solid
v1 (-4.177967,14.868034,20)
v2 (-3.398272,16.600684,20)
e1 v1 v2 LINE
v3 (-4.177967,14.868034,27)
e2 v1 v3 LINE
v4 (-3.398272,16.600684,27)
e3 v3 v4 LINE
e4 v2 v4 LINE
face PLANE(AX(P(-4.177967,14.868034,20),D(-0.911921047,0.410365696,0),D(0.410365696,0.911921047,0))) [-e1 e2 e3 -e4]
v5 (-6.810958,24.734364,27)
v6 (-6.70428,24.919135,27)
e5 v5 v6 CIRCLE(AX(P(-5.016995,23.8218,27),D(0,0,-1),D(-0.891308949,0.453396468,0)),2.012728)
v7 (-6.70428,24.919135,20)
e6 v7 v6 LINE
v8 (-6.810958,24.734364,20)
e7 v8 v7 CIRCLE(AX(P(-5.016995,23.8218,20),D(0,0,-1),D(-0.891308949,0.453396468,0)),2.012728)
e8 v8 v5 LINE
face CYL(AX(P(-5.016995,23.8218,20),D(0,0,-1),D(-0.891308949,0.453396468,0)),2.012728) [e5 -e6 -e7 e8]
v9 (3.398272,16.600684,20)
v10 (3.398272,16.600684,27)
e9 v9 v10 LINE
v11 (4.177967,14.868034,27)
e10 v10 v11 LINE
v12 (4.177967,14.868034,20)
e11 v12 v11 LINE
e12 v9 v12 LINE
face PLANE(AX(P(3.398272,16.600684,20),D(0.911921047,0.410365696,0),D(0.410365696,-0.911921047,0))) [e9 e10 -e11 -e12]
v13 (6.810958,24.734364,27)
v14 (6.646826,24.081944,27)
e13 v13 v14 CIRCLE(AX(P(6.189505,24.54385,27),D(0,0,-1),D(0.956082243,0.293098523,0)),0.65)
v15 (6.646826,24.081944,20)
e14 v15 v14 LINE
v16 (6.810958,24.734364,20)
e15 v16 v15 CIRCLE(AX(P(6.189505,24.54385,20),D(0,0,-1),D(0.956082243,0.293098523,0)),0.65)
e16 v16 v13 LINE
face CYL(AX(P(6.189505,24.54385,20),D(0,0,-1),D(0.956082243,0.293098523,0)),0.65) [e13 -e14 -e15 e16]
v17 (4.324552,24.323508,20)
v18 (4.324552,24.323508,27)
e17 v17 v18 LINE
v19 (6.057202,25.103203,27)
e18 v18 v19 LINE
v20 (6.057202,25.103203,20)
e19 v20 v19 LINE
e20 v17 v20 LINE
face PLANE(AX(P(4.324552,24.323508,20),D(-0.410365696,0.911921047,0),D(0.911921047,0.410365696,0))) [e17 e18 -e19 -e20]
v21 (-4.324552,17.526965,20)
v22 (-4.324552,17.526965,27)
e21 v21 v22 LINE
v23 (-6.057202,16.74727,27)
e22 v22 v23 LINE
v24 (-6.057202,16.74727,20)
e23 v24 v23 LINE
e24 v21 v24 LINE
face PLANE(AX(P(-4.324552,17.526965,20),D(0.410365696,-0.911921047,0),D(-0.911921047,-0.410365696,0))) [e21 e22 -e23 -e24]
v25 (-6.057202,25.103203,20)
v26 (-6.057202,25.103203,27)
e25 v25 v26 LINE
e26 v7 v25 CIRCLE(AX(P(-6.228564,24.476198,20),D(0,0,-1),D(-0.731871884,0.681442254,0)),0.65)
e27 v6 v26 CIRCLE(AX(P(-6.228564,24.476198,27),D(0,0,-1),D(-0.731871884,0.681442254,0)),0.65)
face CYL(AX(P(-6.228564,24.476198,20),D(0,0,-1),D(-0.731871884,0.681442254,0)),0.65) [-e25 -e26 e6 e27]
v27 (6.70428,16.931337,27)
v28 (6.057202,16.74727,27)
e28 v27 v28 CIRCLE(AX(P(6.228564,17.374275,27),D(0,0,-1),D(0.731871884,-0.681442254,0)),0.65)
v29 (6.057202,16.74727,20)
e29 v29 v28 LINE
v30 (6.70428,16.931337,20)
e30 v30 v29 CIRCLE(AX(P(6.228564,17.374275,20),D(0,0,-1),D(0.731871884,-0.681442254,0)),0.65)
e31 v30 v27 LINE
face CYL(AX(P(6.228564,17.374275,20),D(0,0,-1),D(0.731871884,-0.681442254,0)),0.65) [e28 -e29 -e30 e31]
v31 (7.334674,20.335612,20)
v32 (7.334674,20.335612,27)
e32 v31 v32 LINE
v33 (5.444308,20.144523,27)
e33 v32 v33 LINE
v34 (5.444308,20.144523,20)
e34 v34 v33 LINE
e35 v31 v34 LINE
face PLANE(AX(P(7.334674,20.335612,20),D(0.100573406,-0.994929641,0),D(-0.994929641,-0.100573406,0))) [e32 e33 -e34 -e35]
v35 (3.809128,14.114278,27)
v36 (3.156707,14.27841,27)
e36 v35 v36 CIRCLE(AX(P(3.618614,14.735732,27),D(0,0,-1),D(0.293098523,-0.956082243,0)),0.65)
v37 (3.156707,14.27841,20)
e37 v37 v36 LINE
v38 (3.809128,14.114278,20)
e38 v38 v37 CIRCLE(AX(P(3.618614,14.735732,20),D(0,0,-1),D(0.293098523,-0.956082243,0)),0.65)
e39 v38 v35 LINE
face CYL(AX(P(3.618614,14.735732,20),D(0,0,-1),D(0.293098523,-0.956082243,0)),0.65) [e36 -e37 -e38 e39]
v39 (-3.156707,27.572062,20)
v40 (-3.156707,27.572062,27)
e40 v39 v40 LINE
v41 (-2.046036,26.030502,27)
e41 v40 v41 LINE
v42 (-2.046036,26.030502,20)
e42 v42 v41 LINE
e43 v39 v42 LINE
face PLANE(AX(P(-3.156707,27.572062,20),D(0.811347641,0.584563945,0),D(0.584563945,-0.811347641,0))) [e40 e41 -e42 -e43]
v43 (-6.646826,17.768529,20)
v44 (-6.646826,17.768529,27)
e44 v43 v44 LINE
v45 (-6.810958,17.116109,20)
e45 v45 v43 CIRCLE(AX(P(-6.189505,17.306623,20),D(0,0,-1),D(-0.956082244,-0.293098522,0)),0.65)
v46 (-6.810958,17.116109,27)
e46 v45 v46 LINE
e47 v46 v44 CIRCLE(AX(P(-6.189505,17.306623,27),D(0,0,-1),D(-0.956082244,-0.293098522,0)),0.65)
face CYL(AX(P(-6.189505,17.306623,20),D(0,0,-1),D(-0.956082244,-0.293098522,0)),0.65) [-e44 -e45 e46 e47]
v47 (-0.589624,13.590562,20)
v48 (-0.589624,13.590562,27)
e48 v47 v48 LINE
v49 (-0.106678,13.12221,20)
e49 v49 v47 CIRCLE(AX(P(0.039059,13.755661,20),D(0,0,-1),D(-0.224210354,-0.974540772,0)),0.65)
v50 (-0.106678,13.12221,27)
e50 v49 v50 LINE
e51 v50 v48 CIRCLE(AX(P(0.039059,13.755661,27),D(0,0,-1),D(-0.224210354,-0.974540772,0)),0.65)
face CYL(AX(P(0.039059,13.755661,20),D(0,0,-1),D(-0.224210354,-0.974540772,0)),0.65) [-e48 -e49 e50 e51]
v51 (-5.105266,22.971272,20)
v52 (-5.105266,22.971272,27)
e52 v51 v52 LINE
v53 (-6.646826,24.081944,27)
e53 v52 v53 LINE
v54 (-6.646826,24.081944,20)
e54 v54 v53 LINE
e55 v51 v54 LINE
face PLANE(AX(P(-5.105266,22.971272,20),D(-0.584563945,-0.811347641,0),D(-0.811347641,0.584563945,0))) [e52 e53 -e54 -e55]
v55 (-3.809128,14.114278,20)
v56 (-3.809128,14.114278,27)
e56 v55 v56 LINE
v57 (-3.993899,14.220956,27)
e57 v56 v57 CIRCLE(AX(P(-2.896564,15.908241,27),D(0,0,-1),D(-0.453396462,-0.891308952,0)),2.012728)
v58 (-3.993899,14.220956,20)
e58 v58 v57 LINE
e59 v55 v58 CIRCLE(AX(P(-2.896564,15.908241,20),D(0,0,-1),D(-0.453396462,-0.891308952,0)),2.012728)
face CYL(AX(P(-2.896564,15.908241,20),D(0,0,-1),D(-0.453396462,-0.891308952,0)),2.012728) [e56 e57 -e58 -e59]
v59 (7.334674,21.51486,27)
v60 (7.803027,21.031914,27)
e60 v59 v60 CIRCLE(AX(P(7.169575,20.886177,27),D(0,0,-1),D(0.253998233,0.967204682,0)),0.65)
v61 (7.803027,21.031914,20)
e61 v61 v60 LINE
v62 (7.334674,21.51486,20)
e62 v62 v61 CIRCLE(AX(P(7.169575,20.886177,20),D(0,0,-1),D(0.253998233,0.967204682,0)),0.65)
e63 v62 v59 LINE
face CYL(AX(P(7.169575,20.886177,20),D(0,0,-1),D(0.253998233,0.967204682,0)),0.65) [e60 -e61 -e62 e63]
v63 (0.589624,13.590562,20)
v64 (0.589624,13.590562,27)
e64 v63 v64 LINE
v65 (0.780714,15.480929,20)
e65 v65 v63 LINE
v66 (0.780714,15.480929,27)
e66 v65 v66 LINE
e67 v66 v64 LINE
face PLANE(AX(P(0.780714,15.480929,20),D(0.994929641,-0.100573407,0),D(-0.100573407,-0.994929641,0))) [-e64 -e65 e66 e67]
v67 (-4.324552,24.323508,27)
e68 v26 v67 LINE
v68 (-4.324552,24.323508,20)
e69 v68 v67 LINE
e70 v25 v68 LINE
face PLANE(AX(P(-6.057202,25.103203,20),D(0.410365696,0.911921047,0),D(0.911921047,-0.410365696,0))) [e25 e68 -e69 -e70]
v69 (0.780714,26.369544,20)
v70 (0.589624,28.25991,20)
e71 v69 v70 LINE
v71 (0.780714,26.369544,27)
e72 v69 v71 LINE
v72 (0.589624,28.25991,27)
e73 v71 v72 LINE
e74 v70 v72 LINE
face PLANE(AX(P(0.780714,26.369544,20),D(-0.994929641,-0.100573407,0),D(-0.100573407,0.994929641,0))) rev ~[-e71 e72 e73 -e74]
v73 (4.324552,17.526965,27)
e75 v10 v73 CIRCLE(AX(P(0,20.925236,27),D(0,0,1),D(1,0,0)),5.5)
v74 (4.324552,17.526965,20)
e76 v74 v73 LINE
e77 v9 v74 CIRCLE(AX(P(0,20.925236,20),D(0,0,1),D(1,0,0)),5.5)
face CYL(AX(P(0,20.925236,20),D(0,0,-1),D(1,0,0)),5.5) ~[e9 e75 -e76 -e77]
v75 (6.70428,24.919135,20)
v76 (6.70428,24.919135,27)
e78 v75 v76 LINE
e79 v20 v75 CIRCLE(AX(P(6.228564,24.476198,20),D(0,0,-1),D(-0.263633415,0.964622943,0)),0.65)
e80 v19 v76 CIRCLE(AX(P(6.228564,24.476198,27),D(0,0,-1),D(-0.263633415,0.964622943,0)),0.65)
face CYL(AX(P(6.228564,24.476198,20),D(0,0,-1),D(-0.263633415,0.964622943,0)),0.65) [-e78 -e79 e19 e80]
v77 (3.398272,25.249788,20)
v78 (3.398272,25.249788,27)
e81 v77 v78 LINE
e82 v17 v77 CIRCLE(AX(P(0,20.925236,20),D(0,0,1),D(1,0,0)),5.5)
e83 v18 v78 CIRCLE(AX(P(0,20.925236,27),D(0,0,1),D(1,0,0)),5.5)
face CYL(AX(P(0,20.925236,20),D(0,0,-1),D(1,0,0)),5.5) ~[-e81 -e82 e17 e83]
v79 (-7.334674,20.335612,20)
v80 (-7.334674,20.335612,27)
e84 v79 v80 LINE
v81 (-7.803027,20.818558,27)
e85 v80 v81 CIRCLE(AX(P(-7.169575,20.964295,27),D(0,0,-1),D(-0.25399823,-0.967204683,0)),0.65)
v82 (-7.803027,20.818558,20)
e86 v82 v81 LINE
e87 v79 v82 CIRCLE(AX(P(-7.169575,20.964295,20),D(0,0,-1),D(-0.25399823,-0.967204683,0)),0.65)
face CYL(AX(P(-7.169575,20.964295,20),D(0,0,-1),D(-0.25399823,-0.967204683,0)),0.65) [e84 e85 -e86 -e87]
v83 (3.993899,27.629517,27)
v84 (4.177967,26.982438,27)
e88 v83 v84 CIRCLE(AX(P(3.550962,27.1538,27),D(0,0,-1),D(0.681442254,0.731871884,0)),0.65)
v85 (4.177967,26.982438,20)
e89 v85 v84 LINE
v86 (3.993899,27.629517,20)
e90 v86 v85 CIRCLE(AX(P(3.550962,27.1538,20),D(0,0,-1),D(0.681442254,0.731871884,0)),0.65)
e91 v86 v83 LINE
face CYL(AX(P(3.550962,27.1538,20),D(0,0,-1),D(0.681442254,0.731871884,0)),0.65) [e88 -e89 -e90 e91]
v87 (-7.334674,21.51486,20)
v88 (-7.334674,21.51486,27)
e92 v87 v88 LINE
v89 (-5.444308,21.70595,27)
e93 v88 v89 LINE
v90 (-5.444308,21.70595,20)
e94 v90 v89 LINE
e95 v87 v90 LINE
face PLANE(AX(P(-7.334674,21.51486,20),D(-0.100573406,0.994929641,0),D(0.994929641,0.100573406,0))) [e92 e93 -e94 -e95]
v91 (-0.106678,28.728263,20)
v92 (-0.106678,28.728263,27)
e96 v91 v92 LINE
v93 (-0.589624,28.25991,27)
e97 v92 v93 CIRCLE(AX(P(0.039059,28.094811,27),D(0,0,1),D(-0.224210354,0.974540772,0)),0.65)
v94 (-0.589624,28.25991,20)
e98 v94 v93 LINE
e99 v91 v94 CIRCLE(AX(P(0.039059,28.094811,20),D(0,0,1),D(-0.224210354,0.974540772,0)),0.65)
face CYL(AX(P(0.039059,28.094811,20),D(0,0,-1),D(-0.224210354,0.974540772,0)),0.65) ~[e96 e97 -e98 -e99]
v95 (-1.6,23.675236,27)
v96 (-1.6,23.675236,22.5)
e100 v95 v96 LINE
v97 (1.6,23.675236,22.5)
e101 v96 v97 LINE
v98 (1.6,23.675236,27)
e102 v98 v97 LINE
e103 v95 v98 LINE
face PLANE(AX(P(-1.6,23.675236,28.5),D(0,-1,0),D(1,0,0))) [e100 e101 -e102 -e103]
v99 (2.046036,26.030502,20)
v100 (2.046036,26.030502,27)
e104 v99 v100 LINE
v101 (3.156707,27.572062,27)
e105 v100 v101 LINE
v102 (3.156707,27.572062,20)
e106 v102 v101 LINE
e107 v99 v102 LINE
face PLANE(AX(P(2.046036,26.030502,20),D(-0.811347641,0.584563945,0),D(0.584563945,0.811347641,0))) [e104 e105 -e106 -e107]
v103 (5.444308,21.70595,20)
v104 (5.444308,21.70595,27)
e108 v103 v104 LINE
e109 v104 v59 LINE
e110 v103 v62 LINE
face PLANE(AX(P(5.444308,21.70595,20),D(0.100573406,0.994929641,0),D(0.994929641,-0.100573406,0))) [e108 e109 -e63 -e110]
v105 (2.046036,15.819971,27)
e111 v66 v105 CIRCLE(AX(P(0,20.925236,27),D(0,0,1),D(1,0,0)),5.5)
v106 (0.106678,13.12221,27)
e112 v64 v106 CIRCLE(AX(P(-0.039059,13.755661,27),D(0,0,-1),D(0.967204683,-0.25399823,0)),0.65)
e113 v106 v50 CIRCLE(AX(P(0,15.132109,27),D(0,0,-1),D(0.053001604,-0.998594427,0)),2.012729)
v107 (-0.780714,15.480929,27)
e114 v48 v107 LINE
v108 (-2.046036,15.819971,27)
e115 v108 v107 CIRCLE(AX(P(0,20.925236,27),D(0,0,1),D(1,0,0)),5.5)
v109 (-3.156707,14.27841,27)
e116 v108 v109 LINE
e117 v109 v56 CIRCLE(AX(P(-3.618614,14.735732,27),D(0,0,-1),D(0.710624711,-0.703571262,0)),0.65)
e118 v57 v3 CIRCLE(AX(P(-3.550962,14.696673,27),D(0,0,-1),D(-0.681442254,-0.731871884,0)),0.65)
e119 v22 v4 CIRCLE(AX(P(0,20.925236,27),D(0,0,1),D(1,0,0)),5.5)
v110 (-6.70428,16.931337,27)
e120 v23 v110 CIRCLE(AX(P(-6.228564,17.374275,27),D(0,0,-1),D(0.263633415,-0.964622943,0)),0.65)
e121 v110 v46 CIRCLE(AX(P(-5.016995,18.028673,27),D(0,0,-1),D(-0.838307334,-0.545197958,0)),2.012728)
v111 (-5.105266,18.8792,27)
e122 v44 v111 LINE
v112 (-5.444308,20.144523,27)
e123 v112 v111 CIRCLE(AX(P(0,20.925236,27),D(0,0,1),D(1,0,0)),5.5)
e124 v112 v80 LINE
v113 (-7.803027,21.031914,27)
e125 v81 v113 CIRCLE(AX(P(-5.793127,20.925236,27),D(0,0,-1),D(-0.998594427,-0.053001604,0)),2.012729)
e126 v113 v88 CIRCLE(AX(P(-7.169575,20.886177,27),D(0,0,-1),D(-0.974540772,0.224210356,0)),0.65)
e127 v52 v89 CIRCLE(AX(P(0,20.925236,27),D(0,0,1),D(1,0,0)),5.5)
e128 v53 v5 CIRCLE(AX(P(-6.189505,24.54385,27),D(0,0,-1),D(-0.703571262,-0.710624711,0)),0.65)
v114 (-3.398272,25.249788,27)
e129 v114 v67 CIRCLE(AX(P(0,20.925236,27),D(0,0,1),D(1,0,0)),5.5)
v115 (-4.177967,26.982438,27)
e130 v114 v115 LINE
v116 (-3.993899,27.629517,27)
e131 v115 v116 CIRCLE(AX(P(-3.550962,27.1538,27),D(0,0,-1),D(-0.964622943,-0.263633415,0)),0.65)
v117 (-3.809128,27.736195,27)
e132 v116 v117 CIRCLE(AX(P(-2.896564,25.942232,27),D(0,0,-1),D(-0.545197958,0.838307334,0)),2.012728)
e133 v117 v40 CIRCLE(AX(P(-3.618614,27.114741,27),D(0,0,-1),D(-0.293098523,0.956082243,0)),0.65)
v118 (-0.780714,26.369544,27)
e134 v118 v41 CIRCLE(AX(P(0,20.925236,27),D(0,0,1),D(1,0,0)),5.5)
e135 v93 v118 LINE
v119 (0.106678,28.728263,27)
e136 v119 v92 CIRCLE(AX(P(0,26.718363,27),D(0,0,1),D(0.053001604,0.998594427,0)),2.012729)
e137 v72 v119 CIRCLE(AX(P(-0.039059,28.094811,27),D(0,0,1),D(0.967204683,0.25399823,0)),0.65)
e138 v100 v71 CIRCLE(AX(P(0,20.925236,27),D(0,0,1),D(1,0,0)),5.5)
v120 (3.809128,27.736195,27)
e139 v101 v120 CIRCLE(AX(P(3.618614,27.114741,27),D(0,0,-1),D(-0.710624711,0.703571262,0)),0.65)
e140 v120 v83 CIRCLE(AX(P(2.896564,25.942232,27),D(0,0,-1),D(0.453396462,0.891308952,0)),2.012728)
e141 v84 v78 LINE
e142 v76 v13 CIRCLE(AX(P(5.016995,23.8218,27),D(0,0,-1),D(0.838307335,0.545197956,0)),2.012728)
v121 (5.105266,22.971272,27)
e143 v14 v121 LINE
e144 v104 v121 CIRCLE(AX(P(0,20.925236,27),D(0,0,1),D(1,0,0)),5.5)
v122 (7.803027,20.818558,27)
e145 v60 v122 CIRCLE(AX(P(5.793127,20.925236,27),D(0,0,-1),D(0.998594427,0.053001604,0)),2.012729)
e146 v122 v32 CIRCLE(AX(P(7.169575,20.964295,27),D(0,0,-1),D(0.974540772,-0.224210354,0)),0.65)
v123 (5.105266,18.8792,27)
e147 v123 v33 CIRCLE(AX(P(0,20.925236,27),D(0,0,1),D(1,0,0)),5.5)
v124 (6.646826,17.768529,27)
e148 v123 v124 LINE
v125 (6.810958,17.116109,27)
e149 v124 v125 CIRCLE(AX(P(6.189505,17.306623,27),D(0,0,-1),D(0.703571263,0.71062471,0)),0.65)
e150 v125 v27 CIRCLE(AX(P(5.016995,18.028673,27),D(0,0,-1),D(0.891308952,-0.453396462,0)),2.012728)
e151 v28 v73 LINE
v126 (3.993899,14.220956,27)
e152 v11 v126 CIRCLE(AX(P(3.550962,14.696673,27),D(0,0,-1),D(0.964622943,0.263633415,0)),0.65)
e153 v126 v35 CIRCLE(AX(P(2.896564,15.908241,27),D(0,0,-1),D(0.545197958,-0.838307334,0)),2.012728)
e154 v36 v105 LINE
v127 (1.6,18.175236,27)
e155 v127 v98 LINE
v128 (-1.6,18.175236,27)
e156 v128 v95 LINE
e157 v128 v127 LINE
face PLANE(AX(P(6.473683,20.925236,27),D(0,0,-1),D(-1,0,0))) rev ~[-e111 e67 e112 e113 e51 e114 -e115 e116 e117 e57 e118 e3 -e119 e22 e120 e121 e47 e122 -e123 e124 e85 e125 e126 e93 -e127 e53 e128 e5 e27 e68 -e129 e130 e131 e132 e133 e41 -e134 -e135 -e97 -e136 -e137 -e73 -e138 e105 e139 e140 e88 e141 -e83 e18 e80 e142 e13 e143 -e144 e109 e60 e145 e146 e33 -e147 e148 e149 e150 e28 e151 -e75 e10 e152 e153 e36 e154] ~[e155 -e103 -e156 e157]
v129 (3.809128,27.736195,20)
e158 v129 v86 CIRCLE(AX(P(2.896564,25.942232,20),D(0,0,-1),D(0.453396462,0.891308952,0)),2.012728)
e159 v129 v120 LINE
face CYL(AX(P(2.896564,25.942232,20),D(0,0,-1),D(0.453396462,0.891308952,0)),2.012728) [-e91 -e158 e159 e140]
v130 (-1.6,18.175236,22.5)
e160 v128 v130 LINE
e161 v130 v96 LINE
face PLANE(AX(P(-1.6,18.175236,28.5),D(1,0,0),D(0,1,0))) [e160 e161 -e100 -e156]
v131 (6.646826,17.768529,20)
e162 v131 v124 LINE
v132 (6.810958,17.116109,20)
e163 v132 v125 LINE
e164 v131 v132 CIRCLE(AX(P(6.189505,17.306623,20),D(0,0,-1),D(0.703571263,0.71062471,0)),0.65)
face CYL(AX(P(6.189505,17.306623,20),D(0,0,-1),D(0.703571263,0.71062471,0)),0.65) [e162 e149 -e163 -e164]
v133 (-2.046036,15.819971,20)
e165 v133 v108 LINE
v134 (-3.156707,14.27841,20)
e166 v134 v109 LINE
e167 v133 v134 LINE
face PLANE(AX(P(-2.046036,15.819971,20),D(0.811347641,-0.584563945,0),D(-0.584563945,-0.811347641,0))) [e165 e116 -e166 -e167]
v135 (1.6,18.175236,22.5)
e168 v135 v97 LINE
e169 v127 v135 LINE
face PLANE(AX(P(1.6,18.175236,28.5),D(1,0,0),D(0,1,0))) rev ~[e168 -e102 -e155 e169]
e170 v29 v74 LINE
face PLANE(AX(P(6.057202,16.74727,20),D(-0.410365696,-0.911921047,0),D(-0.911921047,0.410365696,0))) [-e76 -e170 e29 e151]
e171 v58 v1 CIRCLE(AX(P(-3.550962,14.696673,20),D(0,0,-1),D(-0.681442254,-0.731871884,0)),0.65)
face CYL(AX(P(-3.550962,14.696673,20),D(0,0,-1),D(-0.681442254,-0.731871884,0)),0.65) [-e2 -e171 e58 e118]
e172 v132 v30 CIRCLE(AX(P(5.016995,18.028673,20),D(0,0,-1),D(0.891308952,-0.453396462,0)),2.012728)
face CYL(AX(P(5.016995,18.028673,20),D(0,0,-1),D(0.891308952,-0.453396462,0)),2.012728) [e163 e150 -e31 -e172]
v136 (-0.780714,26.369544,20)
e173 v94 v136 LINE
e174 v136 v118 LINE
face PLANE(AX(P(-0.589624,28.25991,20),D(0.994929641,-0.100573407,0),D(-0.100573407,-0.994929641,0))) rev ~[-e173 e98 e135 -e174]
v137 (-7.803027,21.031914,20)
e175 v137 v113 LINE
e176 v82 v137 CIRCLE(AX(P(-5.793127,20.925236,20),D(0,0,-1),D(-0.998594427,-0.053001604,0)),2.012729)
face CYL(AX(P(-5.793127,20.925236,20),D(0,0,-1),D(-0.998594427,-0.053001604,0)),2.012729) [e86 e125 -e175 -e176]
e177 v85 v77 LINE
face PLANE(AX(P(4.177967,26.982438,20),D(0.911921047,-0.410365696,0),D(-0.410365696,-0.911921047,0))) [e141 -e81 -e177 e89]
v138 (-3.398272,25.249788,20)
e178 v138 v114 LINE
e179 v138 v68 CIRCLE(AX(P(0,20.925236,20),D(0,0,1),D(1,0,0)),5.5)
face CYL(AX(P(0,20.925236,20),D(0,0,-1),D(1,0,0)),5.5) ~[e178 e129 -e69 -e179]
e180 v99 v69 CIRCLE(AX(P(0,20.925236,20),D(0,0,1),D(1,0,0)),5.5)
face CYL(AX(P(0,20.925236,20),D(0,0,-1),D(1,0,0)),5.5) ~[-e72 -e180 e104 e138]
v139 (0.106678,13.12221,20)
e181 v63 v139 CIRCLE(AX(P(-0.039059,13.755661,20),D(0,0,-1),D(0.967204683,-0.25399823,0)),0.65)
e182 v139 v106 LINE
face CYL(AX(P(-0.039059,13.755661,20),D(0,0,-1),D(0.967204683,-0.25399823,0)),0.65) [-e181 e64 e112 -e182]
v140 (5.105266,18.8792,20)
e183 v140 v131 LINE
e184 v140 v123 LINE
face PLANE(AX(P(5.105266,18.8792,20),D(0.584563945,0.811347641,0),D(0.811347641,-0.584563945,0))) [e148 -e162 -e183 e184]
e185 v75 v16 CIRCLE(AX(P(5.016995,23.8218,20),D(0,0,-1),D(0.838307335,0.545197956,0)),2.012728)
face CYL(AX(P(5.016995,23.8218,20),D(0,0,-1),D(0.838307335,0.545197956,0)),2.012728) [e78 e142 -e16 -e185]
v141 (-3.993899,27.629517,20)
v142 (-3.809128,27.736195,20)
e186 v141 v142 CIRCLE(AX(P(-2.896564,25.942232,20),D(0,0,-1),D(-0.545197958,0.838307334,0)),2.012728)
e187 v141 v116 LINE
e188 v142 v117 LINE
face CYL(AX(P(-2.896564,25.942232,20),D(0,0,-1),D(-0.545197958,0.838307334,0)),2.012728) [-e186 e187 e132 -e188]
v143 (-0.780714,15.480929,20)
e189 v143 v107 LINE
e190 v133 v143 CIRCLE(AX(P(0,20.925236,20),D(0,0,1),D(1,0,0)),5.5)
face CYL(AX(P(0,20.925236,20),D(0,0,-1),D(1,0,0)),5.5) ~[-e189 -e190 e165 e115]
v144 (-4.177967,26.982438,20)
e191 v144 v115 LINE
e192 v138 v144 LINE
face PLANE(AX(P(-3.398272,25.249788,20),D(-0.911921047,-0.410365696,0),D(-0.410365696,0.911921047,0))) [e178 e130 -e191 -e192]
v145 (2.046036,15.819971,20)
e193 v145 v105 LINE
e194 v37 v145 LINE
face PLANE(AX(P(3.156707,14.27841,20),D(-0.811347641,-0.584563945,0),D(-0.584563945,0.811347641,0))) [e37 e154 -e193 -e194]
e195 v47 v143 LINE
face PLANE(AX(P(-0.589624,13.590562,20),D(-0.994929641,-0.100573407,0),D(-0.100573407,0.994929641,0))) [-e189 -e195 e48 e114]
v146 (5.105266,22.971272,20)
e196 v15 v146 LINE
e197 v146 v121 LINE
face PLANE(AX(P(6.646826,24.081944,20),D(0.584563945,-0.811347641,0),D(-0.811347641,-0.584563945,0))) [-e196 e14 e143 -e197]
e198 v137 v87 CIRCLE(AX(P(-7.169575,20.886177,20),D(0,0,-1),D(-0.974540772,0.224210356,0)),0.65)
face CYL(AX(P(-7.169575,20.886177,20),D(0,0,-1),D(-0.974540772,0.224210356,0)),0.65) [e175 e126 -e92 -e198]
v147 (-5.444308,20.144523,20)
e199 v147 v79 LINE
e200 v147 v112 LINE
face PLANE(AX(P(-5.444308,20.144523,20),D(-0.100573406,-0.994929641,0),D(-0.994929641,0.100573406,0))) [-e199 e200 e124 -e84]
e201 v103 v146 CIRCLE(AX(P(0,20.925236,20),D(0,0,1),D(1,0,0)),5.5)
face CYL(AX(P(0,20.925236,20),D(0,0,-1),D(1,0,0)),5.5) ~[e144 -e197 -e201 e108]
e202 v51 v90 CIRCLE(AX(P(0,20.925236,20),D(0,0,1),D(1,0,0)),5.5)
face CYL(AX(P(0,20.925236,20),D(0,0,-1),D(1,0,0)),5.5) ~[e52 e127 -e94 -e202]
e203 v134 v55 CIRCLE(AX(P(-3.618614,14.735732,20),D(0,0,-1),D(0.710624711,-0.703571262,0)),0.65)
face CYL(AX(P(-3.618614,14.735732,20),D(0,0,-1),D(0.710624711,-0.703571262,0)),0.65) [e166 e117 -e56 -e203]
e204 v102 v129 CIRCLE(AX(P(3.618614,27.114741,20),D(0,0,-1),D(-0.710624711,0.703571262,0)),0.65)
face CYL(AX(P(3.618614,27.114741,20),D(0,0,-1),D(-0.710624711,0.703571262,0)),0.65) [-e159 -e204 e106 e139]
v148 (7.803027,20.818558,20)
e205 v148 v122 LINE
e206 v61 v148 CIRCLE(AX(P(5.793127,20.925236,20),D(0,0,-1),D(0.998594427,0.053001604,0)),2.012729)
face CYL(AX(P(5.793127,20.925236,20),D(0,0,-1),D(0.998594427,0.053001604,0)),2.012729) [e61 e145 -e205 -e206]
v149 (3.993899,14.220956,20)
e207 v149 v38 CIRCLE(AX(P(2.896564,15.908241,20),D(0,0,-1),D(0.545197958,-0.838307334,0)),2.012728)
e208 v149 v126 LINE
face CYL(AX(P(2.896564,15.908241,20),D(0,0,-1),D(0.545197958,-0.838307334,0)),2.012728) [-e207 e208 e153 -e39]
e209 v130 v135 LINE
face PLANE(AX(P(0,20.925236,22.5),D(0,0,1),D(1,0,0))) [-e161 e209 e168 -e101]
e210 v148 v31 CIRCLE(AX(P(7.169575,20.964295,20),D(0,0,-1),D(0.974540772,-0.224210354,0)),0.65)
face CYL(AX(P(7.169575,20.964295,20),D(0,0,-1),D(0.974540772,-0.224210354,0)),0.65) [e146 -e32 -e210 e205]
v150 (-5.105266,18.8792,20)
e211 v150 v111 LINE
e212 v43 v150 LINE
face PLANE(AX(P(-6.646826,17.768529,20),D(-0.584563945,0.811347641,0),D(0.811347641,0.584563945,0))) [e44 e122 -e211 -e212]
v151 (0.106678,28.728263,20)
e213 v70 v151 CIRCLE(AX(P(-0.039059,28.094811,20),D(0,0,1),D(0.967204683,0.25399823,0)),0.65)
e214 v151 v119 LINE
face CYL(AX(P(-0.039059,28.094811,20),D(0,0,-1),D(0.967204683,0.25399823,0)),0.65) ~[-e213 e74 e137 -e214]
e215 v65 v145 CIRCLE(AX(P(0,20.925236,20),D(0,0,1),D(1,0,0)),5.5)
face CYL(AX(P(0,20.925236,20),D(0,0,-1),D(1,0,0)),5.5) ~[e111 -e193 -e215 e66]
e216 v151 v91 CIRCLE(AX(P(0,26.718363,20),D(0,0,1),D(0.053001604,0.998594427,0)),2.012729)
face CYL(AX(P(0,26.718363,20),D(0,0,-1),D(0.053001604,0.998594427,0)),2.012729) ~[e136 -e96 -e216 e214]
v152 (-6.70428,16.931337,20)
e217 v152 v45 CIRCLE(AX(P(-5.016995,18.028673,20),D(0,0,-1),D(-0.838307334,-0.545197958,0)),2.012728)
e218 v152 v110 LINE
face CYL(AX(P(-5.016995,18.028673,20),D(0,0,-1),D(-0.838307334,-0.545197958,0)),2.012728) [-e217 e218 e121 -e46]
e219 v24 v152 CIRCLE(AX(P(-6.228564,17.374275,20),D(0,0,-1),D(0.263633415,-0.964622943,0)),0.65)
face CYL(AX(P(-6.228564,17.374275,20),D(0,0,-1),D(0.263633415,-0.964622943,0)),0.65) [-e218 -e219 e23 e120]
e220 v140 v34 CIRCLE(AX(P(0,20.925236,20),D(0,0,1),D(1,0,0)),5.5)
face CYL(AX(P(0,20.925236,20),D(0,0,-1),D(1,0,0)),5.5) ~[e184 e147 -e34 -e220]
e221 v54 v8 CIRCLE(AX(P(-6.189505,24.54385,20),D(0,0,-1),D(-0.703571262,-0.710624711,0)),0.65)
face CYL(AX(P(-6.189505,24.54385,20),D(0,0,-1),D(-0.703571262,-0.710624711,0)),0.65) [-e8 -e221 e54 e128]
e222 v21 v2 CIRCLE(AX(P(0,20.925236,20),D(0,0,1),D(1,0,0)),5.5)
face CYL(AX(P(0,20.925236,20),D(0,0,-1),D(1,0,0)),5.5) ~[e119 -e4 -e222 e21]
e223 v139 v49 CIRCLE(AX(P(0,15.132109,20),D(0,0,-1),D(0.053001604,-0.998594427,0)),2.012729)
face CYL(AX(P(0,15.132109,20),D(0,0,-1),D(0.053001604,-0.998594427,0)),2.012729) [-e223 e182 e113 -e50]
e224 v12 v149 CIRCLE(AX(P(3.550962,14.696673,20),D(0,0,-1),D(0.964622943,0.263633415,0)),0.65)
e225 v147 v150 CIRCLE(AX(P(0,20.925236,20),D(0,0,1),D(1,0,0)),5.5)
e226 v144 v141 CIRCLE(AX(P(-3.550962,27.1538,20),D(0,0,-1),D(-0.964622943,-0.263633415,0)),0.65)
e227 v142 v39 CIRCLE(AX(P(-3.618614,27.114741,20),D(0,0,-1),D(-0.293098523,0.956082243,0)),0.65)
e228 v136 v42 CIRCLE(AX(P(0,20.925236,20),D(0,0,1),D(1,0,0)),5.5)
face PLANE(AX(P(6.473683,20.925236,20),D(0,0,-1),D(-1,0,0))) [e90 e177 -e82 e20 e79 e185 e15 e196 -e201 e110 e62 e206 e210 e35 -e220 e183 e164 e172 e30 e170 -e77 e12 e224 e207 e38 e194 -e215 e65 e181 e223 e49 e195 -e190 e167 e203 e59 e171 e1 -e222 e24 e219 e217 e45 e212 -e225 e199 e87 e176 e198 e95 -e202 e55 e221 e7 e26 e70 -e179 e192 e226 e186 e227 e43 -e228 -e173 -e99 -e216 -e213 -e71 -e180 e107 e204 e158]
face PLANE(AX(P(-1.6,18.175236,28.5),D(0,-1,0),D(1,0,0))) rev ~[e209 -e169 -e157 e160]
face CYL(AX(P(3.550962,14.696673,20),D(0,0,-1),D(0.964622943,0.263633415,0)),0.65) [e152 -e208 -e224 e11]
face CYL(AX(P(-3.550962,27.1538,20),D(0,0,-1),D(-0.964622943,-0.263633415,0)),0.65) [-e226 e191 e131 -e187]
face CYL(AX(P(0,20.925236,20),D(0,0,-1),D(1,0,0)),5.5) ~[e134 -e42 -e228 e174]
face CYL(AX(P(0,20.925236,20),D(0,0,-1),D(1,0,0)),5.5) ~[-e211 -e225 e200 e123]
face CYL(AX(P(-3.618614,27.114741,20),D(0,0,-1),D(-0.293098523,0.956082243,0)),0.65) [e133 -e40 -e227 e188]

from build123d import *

# Parameters (mm, degrees)
SKETCH1_R           = 5.5
BOSS_EXTRUDE2_DEPTH = 7
SKETCH3_W           = 3.2
SKETCH3_H           = 5.5
CUT_EXTRUDE1_DEPTH  = 6
BOSS_EXTRUDE3_DEPTH = 7


with BuildPart() as part:
    # Sketch1 → Boss-Extrude2 (new body)
    with BuildSketch(Plane.XY.offset(20)):
        with Locations((0, 20.92523633)):
            Circle(SKETCH1_R)
    extrude(amount=BOSS_EXTRUDE2_DEPTH)

    # Sketch3 → Cut-Extrude1 (cut)
    with BuildSketch(Plane.XY.offset(28.5)):
        with Locations((0, 20.92523633)):
            Rectangle(SKETCH3_W, SKETCH3_H)
    extrude(amount=-CUT_EXTRUDE1_DEPTH, mode=Mode.SUBTRACT)

    # Sketch4 → Boss-Extrude3 (add)
    with BuildSketch(Plane.XY.offset(20)):
        with BuildLine():
            Line((-0.589624168, 28.259910336), (-0.780713641, 26.369544019))
            ThreePointArc((-0.780713641, 26.369544019), (0, 26.42523633), (0.780713641, 26.369544019))
            Line((0.780713641, 26.369544019), (0.589624168, 28.259910336))
            ThreePointArc((0.589624168, 28.259910336), (0.413456372, 28.561426906), (0.106677857, 28.728262986))
            ThreePointArc((0.106677857, 28.728262986), (0, 28.731092023), (-0.106677857, 28.728262986))
            ThreePointArc((-0.106677857, 28.728262986), (-0.413456372, 28.561426906), (-0.589624168, 28.259910336))
        make_face()
        with BuildLine():
            Line((4.177966512, 26.982438264), (3.39827169, 25.249788274))
            ThreePointArc((3.39827169, 25.249788274), (2.75, 25.688376051), (2.046035999, 26.030501915))
            Line((2.046035999, 26.030501915), (3.156707495, 27.572062432))
            ThreePointArc((3.156707495, 27.572062432), (3.460031567, 27.745099543), (3.809127593, 27.736194569))
            ThreePointArc((3.809127593, 27.736194569), (3.902927847, 27.685305659), (3.993899063, 27.629516712))
            ThreePointArc((3.993899063, 27.629516712), (4.176159009, 27.331643171), (4.177966512, 26.982438264))
        make_face()
        with BuildLine():
            Line((6.646826102, 24.081943825), (5.105265585, 22.971272329))
            ThreePointArc((5.105265585, 22.971272329), (4.763139721, 23.67523633), (4.324551944, 24.32350802))
            Line((4.324551944, 24.32350802), (6.057201934, 25.103202842))
            ThreePointArc((6.057201934, 25.103202842), (6.406406841, 25.101395339), (6.704280382, 24.919135393))
            ThreePointArc((6.704280382, 24.919135393), (6.760069329, 24.828164177), (6.810958239, 24.734363924))
            ThreePointArc((6.810958239, 24.734363924), (6.819863213, 24.385267897), (6.646826102, 24.081943825))
        make_face()
        with BuildLine():
            Line((7.334674006, 20.335612162), (5.444307689, 20.14452269))
            ThreePointArc((5.444307689, 20.14452269), (5.5, 20.92523633), (5.444307689, 21.705949971))
            Line((5.444307689, 21.705949971), (7.334674006, 21.514860499))
            ThreePointArc((7.334674006, 21.514860499), (7.636190576, 21.338692702), (7.803026656, 21.031914187))
            ThreePointArc((7.803026656, 21.031914187), (7.805855693, 20.92523633), (7.803026656, 20.818558473))
            ThreePointArc((7.803026656, 20.818558473), (7.636190576, 20.511779958), (7.334674006, 20.335612162))
        make_face()
        with BuildLine():
            Line((6.057201934, 16.747269818), (4.324551944, 17.52696464))
            ThreePointArc((4.324551944, 17.52696464), (4.763139721, 18.17523633), (5.105265585, 18.879200331))
            Line((5.105265585, 18.879200331), (6.646826102, 17.768528836))
            ThreePointArc((6.646826102, 17.768528836), (6.819863213, 17.465204763), (6.810958239, 17.116108737))
            ThreePointArc((6.810958239, 17.116108737), (6.760069329, 17.022308483), (6.704280382, 16.931337267))
            ThreePointArc((6.704280382, 16.931337267), (6.406406841, 16.749077321), (6.057201934, 16.747269818))
        make_face()
        with BuildLine():
            Line((3.156707495, 14.278410228), (2.046035999, 15.819970745))
            ThreePointArc((2.046035999, 15.819970745), (2.75, 16.162096609), (3.39827169, 16.600684386))
            Line((3.39827169, 16.600684386), (4.177966512, 14.868034396))
            ThreePointArc((4.177966512, 14.868034396), (4.176159009, 14.518829489), (3.993899063, 14.220955948))
            ThreePointArc((3.993899063, 14.220955948), (3.902927847, 14.165167001), (3.809127593, 14.114278091))
            ThreePointArc((3.809127593, 14.114278091), (3.460031567, 14.105373117), (3.156707495, 14.278410228))
        make_face()
        with BuildLine():
            Line((-0.589624168, 13.590562324), (-0.780713641, 15.480928641))
            ThreePointArc((-0.780713641, 15.480928641), (0, 15.42523633), (0.780713641, 15.480928641))
            Line((0.780713641, 15.480928641), (0.589624168, 13.590562324))
            ThreePointArc((0.589624168, 13.590562324), (0.413456372, 13.289045754), (0.106677857, 13.122209674))
            ThreePointArc((0.106677857, 13.122209674), (0, 13.119380637), (-0.106677857, 13.122209674))
            ThreePointArc((-0.106677857, 13.122209674), (-0.413456372, 13.289045754), (-0.589624168, 13.590562324))
        make_face()
        with BuildLine():
            Line((-4.177966512, 14.868034396), (-3.39827169, 16.600684386))
            ThreePointArc((-3.39827169, 16.600684386), (-2.75, 16.162096609), (-2.046035999, 15.819970745))
            Line((-2.046035999, 15.819970745), (-3.156707495, 14.278410228))
            ThreePointArc((-3.156707495, 14.278410228), (-3.460031567, 14.105373117), (-3.809127593, 14.114278091))
            ThreePointArc((-3.809127593, 14.114278091), (-3.902927847, 14.165167001), (-3.993899063, 14.220955948))
            ThreePointArc((-3.993899063, 14.220955948), (-4.176159009, 14.518829489), (-4.177966512, 14.868034396))
        make_face()
        with BuildLine():
            Line((-6.646826102, 17.768528836), (-5.105265585, 18.879200331))
            ThreePointArc((-5.105265585, 18.879200331), (-4.763139721, 18.17523633), (-4.324551944, 17.52696464))
            Line((-4.324551944, 17.52696464), (-6.057201934, 16.747269818))
            ThreePointArc((-6.057201934, 16.747269818), (-6.406406841, 16.749077321), (-6.704280382, 16.931337267))
            ThreePointArc((-6.704280382, 16.931337267), (-6.760069329, 17.022308483), (-6.810958239, 17.116108737))
            ThreePointArc((-6.810958239, 17.116108737), (-6.819863213, 17.465204763), (-6.646826102, 17.768528836))
        make_face()
        with BuildLine():
            Line((-7.334674006, 21.514860499), (-5.444307689, 21.705949971))
            ThreePointArc((-5.444307689, 21.705949971), (-5.5, 20.92523633), (-5.444307689, 20.14452269))
            Line((-5.444307689, 20.14452269), (-7.334674006, 20.335612162))
            ThreePointArc((-7.334674006, 20.335612162), (-7.636190576, 20.511779958), (-7.803026656, 20.818558473))
            ThreePointArc((-7.803026656, 20.818558473), (-7.805855693, 20.92523633), (-7.803026656, 21.031914187))
            ThreePointArc((-7.803026656, 21.031914187), (-7.636190576, 21.338692702), (-7.334674006, 21.514860499))
        make_face()
        with BuildLine():
            Line((-6.057201934, 25.103202842), (-4.324551944, 24.32350802))
            ThreePointArc((-4.324551944, 24.32350802), (-4.763139721, 23.67523633), (-5.105265585, 22.971272329))
            Line((-5.105265585, 22.971272329), (-6.646826102, 24.081943825))
            ThreePointArc((-6.646826102, 24.081943825), (-6.819863213, 24.385267897), (-6.810958239, 24.734363924))
            ThreePointArc((-6.810958239, 24.734363924), (-6.760069329, 24.828164177), (-6.704280382, 24.919135393))
            ThreePointArc((-6.704280382, 24.919135393), (-6.406406841, 25.101395339), (-6.057201934, 25.103202842))
        make_face()
        with BuildLine():
            Line((-3.156707495, 27.572062432), (-2.046035999, 26.030501915))
            ThreePointArc((-2.046035999, 26.030501915), (-2.75, 25.688376051), (-3.39827169, 25.249788274))
            Line((-3.39827169, 25.249788274), (-4.177966512, 26.982438264))
            ThreePointArc((-4.177966512, 26.982438264), (-4.176159009, 27.331643171), (-3.993899063, 27.629516712))
            ThreePointArc((-3.993899063, 27.629516712), (-3.902927847, 27.685305659), (-3.809127593, 27.736194569))
            ThreePointArc((-3.809127593, 27.736194569), (-3.460031567, 27.745099543), (-3.156707495, 27.572062432))
        make_face()
    extrude(amount=BOSS_EXTRUDE3_DEPTH)


solid = part.part
